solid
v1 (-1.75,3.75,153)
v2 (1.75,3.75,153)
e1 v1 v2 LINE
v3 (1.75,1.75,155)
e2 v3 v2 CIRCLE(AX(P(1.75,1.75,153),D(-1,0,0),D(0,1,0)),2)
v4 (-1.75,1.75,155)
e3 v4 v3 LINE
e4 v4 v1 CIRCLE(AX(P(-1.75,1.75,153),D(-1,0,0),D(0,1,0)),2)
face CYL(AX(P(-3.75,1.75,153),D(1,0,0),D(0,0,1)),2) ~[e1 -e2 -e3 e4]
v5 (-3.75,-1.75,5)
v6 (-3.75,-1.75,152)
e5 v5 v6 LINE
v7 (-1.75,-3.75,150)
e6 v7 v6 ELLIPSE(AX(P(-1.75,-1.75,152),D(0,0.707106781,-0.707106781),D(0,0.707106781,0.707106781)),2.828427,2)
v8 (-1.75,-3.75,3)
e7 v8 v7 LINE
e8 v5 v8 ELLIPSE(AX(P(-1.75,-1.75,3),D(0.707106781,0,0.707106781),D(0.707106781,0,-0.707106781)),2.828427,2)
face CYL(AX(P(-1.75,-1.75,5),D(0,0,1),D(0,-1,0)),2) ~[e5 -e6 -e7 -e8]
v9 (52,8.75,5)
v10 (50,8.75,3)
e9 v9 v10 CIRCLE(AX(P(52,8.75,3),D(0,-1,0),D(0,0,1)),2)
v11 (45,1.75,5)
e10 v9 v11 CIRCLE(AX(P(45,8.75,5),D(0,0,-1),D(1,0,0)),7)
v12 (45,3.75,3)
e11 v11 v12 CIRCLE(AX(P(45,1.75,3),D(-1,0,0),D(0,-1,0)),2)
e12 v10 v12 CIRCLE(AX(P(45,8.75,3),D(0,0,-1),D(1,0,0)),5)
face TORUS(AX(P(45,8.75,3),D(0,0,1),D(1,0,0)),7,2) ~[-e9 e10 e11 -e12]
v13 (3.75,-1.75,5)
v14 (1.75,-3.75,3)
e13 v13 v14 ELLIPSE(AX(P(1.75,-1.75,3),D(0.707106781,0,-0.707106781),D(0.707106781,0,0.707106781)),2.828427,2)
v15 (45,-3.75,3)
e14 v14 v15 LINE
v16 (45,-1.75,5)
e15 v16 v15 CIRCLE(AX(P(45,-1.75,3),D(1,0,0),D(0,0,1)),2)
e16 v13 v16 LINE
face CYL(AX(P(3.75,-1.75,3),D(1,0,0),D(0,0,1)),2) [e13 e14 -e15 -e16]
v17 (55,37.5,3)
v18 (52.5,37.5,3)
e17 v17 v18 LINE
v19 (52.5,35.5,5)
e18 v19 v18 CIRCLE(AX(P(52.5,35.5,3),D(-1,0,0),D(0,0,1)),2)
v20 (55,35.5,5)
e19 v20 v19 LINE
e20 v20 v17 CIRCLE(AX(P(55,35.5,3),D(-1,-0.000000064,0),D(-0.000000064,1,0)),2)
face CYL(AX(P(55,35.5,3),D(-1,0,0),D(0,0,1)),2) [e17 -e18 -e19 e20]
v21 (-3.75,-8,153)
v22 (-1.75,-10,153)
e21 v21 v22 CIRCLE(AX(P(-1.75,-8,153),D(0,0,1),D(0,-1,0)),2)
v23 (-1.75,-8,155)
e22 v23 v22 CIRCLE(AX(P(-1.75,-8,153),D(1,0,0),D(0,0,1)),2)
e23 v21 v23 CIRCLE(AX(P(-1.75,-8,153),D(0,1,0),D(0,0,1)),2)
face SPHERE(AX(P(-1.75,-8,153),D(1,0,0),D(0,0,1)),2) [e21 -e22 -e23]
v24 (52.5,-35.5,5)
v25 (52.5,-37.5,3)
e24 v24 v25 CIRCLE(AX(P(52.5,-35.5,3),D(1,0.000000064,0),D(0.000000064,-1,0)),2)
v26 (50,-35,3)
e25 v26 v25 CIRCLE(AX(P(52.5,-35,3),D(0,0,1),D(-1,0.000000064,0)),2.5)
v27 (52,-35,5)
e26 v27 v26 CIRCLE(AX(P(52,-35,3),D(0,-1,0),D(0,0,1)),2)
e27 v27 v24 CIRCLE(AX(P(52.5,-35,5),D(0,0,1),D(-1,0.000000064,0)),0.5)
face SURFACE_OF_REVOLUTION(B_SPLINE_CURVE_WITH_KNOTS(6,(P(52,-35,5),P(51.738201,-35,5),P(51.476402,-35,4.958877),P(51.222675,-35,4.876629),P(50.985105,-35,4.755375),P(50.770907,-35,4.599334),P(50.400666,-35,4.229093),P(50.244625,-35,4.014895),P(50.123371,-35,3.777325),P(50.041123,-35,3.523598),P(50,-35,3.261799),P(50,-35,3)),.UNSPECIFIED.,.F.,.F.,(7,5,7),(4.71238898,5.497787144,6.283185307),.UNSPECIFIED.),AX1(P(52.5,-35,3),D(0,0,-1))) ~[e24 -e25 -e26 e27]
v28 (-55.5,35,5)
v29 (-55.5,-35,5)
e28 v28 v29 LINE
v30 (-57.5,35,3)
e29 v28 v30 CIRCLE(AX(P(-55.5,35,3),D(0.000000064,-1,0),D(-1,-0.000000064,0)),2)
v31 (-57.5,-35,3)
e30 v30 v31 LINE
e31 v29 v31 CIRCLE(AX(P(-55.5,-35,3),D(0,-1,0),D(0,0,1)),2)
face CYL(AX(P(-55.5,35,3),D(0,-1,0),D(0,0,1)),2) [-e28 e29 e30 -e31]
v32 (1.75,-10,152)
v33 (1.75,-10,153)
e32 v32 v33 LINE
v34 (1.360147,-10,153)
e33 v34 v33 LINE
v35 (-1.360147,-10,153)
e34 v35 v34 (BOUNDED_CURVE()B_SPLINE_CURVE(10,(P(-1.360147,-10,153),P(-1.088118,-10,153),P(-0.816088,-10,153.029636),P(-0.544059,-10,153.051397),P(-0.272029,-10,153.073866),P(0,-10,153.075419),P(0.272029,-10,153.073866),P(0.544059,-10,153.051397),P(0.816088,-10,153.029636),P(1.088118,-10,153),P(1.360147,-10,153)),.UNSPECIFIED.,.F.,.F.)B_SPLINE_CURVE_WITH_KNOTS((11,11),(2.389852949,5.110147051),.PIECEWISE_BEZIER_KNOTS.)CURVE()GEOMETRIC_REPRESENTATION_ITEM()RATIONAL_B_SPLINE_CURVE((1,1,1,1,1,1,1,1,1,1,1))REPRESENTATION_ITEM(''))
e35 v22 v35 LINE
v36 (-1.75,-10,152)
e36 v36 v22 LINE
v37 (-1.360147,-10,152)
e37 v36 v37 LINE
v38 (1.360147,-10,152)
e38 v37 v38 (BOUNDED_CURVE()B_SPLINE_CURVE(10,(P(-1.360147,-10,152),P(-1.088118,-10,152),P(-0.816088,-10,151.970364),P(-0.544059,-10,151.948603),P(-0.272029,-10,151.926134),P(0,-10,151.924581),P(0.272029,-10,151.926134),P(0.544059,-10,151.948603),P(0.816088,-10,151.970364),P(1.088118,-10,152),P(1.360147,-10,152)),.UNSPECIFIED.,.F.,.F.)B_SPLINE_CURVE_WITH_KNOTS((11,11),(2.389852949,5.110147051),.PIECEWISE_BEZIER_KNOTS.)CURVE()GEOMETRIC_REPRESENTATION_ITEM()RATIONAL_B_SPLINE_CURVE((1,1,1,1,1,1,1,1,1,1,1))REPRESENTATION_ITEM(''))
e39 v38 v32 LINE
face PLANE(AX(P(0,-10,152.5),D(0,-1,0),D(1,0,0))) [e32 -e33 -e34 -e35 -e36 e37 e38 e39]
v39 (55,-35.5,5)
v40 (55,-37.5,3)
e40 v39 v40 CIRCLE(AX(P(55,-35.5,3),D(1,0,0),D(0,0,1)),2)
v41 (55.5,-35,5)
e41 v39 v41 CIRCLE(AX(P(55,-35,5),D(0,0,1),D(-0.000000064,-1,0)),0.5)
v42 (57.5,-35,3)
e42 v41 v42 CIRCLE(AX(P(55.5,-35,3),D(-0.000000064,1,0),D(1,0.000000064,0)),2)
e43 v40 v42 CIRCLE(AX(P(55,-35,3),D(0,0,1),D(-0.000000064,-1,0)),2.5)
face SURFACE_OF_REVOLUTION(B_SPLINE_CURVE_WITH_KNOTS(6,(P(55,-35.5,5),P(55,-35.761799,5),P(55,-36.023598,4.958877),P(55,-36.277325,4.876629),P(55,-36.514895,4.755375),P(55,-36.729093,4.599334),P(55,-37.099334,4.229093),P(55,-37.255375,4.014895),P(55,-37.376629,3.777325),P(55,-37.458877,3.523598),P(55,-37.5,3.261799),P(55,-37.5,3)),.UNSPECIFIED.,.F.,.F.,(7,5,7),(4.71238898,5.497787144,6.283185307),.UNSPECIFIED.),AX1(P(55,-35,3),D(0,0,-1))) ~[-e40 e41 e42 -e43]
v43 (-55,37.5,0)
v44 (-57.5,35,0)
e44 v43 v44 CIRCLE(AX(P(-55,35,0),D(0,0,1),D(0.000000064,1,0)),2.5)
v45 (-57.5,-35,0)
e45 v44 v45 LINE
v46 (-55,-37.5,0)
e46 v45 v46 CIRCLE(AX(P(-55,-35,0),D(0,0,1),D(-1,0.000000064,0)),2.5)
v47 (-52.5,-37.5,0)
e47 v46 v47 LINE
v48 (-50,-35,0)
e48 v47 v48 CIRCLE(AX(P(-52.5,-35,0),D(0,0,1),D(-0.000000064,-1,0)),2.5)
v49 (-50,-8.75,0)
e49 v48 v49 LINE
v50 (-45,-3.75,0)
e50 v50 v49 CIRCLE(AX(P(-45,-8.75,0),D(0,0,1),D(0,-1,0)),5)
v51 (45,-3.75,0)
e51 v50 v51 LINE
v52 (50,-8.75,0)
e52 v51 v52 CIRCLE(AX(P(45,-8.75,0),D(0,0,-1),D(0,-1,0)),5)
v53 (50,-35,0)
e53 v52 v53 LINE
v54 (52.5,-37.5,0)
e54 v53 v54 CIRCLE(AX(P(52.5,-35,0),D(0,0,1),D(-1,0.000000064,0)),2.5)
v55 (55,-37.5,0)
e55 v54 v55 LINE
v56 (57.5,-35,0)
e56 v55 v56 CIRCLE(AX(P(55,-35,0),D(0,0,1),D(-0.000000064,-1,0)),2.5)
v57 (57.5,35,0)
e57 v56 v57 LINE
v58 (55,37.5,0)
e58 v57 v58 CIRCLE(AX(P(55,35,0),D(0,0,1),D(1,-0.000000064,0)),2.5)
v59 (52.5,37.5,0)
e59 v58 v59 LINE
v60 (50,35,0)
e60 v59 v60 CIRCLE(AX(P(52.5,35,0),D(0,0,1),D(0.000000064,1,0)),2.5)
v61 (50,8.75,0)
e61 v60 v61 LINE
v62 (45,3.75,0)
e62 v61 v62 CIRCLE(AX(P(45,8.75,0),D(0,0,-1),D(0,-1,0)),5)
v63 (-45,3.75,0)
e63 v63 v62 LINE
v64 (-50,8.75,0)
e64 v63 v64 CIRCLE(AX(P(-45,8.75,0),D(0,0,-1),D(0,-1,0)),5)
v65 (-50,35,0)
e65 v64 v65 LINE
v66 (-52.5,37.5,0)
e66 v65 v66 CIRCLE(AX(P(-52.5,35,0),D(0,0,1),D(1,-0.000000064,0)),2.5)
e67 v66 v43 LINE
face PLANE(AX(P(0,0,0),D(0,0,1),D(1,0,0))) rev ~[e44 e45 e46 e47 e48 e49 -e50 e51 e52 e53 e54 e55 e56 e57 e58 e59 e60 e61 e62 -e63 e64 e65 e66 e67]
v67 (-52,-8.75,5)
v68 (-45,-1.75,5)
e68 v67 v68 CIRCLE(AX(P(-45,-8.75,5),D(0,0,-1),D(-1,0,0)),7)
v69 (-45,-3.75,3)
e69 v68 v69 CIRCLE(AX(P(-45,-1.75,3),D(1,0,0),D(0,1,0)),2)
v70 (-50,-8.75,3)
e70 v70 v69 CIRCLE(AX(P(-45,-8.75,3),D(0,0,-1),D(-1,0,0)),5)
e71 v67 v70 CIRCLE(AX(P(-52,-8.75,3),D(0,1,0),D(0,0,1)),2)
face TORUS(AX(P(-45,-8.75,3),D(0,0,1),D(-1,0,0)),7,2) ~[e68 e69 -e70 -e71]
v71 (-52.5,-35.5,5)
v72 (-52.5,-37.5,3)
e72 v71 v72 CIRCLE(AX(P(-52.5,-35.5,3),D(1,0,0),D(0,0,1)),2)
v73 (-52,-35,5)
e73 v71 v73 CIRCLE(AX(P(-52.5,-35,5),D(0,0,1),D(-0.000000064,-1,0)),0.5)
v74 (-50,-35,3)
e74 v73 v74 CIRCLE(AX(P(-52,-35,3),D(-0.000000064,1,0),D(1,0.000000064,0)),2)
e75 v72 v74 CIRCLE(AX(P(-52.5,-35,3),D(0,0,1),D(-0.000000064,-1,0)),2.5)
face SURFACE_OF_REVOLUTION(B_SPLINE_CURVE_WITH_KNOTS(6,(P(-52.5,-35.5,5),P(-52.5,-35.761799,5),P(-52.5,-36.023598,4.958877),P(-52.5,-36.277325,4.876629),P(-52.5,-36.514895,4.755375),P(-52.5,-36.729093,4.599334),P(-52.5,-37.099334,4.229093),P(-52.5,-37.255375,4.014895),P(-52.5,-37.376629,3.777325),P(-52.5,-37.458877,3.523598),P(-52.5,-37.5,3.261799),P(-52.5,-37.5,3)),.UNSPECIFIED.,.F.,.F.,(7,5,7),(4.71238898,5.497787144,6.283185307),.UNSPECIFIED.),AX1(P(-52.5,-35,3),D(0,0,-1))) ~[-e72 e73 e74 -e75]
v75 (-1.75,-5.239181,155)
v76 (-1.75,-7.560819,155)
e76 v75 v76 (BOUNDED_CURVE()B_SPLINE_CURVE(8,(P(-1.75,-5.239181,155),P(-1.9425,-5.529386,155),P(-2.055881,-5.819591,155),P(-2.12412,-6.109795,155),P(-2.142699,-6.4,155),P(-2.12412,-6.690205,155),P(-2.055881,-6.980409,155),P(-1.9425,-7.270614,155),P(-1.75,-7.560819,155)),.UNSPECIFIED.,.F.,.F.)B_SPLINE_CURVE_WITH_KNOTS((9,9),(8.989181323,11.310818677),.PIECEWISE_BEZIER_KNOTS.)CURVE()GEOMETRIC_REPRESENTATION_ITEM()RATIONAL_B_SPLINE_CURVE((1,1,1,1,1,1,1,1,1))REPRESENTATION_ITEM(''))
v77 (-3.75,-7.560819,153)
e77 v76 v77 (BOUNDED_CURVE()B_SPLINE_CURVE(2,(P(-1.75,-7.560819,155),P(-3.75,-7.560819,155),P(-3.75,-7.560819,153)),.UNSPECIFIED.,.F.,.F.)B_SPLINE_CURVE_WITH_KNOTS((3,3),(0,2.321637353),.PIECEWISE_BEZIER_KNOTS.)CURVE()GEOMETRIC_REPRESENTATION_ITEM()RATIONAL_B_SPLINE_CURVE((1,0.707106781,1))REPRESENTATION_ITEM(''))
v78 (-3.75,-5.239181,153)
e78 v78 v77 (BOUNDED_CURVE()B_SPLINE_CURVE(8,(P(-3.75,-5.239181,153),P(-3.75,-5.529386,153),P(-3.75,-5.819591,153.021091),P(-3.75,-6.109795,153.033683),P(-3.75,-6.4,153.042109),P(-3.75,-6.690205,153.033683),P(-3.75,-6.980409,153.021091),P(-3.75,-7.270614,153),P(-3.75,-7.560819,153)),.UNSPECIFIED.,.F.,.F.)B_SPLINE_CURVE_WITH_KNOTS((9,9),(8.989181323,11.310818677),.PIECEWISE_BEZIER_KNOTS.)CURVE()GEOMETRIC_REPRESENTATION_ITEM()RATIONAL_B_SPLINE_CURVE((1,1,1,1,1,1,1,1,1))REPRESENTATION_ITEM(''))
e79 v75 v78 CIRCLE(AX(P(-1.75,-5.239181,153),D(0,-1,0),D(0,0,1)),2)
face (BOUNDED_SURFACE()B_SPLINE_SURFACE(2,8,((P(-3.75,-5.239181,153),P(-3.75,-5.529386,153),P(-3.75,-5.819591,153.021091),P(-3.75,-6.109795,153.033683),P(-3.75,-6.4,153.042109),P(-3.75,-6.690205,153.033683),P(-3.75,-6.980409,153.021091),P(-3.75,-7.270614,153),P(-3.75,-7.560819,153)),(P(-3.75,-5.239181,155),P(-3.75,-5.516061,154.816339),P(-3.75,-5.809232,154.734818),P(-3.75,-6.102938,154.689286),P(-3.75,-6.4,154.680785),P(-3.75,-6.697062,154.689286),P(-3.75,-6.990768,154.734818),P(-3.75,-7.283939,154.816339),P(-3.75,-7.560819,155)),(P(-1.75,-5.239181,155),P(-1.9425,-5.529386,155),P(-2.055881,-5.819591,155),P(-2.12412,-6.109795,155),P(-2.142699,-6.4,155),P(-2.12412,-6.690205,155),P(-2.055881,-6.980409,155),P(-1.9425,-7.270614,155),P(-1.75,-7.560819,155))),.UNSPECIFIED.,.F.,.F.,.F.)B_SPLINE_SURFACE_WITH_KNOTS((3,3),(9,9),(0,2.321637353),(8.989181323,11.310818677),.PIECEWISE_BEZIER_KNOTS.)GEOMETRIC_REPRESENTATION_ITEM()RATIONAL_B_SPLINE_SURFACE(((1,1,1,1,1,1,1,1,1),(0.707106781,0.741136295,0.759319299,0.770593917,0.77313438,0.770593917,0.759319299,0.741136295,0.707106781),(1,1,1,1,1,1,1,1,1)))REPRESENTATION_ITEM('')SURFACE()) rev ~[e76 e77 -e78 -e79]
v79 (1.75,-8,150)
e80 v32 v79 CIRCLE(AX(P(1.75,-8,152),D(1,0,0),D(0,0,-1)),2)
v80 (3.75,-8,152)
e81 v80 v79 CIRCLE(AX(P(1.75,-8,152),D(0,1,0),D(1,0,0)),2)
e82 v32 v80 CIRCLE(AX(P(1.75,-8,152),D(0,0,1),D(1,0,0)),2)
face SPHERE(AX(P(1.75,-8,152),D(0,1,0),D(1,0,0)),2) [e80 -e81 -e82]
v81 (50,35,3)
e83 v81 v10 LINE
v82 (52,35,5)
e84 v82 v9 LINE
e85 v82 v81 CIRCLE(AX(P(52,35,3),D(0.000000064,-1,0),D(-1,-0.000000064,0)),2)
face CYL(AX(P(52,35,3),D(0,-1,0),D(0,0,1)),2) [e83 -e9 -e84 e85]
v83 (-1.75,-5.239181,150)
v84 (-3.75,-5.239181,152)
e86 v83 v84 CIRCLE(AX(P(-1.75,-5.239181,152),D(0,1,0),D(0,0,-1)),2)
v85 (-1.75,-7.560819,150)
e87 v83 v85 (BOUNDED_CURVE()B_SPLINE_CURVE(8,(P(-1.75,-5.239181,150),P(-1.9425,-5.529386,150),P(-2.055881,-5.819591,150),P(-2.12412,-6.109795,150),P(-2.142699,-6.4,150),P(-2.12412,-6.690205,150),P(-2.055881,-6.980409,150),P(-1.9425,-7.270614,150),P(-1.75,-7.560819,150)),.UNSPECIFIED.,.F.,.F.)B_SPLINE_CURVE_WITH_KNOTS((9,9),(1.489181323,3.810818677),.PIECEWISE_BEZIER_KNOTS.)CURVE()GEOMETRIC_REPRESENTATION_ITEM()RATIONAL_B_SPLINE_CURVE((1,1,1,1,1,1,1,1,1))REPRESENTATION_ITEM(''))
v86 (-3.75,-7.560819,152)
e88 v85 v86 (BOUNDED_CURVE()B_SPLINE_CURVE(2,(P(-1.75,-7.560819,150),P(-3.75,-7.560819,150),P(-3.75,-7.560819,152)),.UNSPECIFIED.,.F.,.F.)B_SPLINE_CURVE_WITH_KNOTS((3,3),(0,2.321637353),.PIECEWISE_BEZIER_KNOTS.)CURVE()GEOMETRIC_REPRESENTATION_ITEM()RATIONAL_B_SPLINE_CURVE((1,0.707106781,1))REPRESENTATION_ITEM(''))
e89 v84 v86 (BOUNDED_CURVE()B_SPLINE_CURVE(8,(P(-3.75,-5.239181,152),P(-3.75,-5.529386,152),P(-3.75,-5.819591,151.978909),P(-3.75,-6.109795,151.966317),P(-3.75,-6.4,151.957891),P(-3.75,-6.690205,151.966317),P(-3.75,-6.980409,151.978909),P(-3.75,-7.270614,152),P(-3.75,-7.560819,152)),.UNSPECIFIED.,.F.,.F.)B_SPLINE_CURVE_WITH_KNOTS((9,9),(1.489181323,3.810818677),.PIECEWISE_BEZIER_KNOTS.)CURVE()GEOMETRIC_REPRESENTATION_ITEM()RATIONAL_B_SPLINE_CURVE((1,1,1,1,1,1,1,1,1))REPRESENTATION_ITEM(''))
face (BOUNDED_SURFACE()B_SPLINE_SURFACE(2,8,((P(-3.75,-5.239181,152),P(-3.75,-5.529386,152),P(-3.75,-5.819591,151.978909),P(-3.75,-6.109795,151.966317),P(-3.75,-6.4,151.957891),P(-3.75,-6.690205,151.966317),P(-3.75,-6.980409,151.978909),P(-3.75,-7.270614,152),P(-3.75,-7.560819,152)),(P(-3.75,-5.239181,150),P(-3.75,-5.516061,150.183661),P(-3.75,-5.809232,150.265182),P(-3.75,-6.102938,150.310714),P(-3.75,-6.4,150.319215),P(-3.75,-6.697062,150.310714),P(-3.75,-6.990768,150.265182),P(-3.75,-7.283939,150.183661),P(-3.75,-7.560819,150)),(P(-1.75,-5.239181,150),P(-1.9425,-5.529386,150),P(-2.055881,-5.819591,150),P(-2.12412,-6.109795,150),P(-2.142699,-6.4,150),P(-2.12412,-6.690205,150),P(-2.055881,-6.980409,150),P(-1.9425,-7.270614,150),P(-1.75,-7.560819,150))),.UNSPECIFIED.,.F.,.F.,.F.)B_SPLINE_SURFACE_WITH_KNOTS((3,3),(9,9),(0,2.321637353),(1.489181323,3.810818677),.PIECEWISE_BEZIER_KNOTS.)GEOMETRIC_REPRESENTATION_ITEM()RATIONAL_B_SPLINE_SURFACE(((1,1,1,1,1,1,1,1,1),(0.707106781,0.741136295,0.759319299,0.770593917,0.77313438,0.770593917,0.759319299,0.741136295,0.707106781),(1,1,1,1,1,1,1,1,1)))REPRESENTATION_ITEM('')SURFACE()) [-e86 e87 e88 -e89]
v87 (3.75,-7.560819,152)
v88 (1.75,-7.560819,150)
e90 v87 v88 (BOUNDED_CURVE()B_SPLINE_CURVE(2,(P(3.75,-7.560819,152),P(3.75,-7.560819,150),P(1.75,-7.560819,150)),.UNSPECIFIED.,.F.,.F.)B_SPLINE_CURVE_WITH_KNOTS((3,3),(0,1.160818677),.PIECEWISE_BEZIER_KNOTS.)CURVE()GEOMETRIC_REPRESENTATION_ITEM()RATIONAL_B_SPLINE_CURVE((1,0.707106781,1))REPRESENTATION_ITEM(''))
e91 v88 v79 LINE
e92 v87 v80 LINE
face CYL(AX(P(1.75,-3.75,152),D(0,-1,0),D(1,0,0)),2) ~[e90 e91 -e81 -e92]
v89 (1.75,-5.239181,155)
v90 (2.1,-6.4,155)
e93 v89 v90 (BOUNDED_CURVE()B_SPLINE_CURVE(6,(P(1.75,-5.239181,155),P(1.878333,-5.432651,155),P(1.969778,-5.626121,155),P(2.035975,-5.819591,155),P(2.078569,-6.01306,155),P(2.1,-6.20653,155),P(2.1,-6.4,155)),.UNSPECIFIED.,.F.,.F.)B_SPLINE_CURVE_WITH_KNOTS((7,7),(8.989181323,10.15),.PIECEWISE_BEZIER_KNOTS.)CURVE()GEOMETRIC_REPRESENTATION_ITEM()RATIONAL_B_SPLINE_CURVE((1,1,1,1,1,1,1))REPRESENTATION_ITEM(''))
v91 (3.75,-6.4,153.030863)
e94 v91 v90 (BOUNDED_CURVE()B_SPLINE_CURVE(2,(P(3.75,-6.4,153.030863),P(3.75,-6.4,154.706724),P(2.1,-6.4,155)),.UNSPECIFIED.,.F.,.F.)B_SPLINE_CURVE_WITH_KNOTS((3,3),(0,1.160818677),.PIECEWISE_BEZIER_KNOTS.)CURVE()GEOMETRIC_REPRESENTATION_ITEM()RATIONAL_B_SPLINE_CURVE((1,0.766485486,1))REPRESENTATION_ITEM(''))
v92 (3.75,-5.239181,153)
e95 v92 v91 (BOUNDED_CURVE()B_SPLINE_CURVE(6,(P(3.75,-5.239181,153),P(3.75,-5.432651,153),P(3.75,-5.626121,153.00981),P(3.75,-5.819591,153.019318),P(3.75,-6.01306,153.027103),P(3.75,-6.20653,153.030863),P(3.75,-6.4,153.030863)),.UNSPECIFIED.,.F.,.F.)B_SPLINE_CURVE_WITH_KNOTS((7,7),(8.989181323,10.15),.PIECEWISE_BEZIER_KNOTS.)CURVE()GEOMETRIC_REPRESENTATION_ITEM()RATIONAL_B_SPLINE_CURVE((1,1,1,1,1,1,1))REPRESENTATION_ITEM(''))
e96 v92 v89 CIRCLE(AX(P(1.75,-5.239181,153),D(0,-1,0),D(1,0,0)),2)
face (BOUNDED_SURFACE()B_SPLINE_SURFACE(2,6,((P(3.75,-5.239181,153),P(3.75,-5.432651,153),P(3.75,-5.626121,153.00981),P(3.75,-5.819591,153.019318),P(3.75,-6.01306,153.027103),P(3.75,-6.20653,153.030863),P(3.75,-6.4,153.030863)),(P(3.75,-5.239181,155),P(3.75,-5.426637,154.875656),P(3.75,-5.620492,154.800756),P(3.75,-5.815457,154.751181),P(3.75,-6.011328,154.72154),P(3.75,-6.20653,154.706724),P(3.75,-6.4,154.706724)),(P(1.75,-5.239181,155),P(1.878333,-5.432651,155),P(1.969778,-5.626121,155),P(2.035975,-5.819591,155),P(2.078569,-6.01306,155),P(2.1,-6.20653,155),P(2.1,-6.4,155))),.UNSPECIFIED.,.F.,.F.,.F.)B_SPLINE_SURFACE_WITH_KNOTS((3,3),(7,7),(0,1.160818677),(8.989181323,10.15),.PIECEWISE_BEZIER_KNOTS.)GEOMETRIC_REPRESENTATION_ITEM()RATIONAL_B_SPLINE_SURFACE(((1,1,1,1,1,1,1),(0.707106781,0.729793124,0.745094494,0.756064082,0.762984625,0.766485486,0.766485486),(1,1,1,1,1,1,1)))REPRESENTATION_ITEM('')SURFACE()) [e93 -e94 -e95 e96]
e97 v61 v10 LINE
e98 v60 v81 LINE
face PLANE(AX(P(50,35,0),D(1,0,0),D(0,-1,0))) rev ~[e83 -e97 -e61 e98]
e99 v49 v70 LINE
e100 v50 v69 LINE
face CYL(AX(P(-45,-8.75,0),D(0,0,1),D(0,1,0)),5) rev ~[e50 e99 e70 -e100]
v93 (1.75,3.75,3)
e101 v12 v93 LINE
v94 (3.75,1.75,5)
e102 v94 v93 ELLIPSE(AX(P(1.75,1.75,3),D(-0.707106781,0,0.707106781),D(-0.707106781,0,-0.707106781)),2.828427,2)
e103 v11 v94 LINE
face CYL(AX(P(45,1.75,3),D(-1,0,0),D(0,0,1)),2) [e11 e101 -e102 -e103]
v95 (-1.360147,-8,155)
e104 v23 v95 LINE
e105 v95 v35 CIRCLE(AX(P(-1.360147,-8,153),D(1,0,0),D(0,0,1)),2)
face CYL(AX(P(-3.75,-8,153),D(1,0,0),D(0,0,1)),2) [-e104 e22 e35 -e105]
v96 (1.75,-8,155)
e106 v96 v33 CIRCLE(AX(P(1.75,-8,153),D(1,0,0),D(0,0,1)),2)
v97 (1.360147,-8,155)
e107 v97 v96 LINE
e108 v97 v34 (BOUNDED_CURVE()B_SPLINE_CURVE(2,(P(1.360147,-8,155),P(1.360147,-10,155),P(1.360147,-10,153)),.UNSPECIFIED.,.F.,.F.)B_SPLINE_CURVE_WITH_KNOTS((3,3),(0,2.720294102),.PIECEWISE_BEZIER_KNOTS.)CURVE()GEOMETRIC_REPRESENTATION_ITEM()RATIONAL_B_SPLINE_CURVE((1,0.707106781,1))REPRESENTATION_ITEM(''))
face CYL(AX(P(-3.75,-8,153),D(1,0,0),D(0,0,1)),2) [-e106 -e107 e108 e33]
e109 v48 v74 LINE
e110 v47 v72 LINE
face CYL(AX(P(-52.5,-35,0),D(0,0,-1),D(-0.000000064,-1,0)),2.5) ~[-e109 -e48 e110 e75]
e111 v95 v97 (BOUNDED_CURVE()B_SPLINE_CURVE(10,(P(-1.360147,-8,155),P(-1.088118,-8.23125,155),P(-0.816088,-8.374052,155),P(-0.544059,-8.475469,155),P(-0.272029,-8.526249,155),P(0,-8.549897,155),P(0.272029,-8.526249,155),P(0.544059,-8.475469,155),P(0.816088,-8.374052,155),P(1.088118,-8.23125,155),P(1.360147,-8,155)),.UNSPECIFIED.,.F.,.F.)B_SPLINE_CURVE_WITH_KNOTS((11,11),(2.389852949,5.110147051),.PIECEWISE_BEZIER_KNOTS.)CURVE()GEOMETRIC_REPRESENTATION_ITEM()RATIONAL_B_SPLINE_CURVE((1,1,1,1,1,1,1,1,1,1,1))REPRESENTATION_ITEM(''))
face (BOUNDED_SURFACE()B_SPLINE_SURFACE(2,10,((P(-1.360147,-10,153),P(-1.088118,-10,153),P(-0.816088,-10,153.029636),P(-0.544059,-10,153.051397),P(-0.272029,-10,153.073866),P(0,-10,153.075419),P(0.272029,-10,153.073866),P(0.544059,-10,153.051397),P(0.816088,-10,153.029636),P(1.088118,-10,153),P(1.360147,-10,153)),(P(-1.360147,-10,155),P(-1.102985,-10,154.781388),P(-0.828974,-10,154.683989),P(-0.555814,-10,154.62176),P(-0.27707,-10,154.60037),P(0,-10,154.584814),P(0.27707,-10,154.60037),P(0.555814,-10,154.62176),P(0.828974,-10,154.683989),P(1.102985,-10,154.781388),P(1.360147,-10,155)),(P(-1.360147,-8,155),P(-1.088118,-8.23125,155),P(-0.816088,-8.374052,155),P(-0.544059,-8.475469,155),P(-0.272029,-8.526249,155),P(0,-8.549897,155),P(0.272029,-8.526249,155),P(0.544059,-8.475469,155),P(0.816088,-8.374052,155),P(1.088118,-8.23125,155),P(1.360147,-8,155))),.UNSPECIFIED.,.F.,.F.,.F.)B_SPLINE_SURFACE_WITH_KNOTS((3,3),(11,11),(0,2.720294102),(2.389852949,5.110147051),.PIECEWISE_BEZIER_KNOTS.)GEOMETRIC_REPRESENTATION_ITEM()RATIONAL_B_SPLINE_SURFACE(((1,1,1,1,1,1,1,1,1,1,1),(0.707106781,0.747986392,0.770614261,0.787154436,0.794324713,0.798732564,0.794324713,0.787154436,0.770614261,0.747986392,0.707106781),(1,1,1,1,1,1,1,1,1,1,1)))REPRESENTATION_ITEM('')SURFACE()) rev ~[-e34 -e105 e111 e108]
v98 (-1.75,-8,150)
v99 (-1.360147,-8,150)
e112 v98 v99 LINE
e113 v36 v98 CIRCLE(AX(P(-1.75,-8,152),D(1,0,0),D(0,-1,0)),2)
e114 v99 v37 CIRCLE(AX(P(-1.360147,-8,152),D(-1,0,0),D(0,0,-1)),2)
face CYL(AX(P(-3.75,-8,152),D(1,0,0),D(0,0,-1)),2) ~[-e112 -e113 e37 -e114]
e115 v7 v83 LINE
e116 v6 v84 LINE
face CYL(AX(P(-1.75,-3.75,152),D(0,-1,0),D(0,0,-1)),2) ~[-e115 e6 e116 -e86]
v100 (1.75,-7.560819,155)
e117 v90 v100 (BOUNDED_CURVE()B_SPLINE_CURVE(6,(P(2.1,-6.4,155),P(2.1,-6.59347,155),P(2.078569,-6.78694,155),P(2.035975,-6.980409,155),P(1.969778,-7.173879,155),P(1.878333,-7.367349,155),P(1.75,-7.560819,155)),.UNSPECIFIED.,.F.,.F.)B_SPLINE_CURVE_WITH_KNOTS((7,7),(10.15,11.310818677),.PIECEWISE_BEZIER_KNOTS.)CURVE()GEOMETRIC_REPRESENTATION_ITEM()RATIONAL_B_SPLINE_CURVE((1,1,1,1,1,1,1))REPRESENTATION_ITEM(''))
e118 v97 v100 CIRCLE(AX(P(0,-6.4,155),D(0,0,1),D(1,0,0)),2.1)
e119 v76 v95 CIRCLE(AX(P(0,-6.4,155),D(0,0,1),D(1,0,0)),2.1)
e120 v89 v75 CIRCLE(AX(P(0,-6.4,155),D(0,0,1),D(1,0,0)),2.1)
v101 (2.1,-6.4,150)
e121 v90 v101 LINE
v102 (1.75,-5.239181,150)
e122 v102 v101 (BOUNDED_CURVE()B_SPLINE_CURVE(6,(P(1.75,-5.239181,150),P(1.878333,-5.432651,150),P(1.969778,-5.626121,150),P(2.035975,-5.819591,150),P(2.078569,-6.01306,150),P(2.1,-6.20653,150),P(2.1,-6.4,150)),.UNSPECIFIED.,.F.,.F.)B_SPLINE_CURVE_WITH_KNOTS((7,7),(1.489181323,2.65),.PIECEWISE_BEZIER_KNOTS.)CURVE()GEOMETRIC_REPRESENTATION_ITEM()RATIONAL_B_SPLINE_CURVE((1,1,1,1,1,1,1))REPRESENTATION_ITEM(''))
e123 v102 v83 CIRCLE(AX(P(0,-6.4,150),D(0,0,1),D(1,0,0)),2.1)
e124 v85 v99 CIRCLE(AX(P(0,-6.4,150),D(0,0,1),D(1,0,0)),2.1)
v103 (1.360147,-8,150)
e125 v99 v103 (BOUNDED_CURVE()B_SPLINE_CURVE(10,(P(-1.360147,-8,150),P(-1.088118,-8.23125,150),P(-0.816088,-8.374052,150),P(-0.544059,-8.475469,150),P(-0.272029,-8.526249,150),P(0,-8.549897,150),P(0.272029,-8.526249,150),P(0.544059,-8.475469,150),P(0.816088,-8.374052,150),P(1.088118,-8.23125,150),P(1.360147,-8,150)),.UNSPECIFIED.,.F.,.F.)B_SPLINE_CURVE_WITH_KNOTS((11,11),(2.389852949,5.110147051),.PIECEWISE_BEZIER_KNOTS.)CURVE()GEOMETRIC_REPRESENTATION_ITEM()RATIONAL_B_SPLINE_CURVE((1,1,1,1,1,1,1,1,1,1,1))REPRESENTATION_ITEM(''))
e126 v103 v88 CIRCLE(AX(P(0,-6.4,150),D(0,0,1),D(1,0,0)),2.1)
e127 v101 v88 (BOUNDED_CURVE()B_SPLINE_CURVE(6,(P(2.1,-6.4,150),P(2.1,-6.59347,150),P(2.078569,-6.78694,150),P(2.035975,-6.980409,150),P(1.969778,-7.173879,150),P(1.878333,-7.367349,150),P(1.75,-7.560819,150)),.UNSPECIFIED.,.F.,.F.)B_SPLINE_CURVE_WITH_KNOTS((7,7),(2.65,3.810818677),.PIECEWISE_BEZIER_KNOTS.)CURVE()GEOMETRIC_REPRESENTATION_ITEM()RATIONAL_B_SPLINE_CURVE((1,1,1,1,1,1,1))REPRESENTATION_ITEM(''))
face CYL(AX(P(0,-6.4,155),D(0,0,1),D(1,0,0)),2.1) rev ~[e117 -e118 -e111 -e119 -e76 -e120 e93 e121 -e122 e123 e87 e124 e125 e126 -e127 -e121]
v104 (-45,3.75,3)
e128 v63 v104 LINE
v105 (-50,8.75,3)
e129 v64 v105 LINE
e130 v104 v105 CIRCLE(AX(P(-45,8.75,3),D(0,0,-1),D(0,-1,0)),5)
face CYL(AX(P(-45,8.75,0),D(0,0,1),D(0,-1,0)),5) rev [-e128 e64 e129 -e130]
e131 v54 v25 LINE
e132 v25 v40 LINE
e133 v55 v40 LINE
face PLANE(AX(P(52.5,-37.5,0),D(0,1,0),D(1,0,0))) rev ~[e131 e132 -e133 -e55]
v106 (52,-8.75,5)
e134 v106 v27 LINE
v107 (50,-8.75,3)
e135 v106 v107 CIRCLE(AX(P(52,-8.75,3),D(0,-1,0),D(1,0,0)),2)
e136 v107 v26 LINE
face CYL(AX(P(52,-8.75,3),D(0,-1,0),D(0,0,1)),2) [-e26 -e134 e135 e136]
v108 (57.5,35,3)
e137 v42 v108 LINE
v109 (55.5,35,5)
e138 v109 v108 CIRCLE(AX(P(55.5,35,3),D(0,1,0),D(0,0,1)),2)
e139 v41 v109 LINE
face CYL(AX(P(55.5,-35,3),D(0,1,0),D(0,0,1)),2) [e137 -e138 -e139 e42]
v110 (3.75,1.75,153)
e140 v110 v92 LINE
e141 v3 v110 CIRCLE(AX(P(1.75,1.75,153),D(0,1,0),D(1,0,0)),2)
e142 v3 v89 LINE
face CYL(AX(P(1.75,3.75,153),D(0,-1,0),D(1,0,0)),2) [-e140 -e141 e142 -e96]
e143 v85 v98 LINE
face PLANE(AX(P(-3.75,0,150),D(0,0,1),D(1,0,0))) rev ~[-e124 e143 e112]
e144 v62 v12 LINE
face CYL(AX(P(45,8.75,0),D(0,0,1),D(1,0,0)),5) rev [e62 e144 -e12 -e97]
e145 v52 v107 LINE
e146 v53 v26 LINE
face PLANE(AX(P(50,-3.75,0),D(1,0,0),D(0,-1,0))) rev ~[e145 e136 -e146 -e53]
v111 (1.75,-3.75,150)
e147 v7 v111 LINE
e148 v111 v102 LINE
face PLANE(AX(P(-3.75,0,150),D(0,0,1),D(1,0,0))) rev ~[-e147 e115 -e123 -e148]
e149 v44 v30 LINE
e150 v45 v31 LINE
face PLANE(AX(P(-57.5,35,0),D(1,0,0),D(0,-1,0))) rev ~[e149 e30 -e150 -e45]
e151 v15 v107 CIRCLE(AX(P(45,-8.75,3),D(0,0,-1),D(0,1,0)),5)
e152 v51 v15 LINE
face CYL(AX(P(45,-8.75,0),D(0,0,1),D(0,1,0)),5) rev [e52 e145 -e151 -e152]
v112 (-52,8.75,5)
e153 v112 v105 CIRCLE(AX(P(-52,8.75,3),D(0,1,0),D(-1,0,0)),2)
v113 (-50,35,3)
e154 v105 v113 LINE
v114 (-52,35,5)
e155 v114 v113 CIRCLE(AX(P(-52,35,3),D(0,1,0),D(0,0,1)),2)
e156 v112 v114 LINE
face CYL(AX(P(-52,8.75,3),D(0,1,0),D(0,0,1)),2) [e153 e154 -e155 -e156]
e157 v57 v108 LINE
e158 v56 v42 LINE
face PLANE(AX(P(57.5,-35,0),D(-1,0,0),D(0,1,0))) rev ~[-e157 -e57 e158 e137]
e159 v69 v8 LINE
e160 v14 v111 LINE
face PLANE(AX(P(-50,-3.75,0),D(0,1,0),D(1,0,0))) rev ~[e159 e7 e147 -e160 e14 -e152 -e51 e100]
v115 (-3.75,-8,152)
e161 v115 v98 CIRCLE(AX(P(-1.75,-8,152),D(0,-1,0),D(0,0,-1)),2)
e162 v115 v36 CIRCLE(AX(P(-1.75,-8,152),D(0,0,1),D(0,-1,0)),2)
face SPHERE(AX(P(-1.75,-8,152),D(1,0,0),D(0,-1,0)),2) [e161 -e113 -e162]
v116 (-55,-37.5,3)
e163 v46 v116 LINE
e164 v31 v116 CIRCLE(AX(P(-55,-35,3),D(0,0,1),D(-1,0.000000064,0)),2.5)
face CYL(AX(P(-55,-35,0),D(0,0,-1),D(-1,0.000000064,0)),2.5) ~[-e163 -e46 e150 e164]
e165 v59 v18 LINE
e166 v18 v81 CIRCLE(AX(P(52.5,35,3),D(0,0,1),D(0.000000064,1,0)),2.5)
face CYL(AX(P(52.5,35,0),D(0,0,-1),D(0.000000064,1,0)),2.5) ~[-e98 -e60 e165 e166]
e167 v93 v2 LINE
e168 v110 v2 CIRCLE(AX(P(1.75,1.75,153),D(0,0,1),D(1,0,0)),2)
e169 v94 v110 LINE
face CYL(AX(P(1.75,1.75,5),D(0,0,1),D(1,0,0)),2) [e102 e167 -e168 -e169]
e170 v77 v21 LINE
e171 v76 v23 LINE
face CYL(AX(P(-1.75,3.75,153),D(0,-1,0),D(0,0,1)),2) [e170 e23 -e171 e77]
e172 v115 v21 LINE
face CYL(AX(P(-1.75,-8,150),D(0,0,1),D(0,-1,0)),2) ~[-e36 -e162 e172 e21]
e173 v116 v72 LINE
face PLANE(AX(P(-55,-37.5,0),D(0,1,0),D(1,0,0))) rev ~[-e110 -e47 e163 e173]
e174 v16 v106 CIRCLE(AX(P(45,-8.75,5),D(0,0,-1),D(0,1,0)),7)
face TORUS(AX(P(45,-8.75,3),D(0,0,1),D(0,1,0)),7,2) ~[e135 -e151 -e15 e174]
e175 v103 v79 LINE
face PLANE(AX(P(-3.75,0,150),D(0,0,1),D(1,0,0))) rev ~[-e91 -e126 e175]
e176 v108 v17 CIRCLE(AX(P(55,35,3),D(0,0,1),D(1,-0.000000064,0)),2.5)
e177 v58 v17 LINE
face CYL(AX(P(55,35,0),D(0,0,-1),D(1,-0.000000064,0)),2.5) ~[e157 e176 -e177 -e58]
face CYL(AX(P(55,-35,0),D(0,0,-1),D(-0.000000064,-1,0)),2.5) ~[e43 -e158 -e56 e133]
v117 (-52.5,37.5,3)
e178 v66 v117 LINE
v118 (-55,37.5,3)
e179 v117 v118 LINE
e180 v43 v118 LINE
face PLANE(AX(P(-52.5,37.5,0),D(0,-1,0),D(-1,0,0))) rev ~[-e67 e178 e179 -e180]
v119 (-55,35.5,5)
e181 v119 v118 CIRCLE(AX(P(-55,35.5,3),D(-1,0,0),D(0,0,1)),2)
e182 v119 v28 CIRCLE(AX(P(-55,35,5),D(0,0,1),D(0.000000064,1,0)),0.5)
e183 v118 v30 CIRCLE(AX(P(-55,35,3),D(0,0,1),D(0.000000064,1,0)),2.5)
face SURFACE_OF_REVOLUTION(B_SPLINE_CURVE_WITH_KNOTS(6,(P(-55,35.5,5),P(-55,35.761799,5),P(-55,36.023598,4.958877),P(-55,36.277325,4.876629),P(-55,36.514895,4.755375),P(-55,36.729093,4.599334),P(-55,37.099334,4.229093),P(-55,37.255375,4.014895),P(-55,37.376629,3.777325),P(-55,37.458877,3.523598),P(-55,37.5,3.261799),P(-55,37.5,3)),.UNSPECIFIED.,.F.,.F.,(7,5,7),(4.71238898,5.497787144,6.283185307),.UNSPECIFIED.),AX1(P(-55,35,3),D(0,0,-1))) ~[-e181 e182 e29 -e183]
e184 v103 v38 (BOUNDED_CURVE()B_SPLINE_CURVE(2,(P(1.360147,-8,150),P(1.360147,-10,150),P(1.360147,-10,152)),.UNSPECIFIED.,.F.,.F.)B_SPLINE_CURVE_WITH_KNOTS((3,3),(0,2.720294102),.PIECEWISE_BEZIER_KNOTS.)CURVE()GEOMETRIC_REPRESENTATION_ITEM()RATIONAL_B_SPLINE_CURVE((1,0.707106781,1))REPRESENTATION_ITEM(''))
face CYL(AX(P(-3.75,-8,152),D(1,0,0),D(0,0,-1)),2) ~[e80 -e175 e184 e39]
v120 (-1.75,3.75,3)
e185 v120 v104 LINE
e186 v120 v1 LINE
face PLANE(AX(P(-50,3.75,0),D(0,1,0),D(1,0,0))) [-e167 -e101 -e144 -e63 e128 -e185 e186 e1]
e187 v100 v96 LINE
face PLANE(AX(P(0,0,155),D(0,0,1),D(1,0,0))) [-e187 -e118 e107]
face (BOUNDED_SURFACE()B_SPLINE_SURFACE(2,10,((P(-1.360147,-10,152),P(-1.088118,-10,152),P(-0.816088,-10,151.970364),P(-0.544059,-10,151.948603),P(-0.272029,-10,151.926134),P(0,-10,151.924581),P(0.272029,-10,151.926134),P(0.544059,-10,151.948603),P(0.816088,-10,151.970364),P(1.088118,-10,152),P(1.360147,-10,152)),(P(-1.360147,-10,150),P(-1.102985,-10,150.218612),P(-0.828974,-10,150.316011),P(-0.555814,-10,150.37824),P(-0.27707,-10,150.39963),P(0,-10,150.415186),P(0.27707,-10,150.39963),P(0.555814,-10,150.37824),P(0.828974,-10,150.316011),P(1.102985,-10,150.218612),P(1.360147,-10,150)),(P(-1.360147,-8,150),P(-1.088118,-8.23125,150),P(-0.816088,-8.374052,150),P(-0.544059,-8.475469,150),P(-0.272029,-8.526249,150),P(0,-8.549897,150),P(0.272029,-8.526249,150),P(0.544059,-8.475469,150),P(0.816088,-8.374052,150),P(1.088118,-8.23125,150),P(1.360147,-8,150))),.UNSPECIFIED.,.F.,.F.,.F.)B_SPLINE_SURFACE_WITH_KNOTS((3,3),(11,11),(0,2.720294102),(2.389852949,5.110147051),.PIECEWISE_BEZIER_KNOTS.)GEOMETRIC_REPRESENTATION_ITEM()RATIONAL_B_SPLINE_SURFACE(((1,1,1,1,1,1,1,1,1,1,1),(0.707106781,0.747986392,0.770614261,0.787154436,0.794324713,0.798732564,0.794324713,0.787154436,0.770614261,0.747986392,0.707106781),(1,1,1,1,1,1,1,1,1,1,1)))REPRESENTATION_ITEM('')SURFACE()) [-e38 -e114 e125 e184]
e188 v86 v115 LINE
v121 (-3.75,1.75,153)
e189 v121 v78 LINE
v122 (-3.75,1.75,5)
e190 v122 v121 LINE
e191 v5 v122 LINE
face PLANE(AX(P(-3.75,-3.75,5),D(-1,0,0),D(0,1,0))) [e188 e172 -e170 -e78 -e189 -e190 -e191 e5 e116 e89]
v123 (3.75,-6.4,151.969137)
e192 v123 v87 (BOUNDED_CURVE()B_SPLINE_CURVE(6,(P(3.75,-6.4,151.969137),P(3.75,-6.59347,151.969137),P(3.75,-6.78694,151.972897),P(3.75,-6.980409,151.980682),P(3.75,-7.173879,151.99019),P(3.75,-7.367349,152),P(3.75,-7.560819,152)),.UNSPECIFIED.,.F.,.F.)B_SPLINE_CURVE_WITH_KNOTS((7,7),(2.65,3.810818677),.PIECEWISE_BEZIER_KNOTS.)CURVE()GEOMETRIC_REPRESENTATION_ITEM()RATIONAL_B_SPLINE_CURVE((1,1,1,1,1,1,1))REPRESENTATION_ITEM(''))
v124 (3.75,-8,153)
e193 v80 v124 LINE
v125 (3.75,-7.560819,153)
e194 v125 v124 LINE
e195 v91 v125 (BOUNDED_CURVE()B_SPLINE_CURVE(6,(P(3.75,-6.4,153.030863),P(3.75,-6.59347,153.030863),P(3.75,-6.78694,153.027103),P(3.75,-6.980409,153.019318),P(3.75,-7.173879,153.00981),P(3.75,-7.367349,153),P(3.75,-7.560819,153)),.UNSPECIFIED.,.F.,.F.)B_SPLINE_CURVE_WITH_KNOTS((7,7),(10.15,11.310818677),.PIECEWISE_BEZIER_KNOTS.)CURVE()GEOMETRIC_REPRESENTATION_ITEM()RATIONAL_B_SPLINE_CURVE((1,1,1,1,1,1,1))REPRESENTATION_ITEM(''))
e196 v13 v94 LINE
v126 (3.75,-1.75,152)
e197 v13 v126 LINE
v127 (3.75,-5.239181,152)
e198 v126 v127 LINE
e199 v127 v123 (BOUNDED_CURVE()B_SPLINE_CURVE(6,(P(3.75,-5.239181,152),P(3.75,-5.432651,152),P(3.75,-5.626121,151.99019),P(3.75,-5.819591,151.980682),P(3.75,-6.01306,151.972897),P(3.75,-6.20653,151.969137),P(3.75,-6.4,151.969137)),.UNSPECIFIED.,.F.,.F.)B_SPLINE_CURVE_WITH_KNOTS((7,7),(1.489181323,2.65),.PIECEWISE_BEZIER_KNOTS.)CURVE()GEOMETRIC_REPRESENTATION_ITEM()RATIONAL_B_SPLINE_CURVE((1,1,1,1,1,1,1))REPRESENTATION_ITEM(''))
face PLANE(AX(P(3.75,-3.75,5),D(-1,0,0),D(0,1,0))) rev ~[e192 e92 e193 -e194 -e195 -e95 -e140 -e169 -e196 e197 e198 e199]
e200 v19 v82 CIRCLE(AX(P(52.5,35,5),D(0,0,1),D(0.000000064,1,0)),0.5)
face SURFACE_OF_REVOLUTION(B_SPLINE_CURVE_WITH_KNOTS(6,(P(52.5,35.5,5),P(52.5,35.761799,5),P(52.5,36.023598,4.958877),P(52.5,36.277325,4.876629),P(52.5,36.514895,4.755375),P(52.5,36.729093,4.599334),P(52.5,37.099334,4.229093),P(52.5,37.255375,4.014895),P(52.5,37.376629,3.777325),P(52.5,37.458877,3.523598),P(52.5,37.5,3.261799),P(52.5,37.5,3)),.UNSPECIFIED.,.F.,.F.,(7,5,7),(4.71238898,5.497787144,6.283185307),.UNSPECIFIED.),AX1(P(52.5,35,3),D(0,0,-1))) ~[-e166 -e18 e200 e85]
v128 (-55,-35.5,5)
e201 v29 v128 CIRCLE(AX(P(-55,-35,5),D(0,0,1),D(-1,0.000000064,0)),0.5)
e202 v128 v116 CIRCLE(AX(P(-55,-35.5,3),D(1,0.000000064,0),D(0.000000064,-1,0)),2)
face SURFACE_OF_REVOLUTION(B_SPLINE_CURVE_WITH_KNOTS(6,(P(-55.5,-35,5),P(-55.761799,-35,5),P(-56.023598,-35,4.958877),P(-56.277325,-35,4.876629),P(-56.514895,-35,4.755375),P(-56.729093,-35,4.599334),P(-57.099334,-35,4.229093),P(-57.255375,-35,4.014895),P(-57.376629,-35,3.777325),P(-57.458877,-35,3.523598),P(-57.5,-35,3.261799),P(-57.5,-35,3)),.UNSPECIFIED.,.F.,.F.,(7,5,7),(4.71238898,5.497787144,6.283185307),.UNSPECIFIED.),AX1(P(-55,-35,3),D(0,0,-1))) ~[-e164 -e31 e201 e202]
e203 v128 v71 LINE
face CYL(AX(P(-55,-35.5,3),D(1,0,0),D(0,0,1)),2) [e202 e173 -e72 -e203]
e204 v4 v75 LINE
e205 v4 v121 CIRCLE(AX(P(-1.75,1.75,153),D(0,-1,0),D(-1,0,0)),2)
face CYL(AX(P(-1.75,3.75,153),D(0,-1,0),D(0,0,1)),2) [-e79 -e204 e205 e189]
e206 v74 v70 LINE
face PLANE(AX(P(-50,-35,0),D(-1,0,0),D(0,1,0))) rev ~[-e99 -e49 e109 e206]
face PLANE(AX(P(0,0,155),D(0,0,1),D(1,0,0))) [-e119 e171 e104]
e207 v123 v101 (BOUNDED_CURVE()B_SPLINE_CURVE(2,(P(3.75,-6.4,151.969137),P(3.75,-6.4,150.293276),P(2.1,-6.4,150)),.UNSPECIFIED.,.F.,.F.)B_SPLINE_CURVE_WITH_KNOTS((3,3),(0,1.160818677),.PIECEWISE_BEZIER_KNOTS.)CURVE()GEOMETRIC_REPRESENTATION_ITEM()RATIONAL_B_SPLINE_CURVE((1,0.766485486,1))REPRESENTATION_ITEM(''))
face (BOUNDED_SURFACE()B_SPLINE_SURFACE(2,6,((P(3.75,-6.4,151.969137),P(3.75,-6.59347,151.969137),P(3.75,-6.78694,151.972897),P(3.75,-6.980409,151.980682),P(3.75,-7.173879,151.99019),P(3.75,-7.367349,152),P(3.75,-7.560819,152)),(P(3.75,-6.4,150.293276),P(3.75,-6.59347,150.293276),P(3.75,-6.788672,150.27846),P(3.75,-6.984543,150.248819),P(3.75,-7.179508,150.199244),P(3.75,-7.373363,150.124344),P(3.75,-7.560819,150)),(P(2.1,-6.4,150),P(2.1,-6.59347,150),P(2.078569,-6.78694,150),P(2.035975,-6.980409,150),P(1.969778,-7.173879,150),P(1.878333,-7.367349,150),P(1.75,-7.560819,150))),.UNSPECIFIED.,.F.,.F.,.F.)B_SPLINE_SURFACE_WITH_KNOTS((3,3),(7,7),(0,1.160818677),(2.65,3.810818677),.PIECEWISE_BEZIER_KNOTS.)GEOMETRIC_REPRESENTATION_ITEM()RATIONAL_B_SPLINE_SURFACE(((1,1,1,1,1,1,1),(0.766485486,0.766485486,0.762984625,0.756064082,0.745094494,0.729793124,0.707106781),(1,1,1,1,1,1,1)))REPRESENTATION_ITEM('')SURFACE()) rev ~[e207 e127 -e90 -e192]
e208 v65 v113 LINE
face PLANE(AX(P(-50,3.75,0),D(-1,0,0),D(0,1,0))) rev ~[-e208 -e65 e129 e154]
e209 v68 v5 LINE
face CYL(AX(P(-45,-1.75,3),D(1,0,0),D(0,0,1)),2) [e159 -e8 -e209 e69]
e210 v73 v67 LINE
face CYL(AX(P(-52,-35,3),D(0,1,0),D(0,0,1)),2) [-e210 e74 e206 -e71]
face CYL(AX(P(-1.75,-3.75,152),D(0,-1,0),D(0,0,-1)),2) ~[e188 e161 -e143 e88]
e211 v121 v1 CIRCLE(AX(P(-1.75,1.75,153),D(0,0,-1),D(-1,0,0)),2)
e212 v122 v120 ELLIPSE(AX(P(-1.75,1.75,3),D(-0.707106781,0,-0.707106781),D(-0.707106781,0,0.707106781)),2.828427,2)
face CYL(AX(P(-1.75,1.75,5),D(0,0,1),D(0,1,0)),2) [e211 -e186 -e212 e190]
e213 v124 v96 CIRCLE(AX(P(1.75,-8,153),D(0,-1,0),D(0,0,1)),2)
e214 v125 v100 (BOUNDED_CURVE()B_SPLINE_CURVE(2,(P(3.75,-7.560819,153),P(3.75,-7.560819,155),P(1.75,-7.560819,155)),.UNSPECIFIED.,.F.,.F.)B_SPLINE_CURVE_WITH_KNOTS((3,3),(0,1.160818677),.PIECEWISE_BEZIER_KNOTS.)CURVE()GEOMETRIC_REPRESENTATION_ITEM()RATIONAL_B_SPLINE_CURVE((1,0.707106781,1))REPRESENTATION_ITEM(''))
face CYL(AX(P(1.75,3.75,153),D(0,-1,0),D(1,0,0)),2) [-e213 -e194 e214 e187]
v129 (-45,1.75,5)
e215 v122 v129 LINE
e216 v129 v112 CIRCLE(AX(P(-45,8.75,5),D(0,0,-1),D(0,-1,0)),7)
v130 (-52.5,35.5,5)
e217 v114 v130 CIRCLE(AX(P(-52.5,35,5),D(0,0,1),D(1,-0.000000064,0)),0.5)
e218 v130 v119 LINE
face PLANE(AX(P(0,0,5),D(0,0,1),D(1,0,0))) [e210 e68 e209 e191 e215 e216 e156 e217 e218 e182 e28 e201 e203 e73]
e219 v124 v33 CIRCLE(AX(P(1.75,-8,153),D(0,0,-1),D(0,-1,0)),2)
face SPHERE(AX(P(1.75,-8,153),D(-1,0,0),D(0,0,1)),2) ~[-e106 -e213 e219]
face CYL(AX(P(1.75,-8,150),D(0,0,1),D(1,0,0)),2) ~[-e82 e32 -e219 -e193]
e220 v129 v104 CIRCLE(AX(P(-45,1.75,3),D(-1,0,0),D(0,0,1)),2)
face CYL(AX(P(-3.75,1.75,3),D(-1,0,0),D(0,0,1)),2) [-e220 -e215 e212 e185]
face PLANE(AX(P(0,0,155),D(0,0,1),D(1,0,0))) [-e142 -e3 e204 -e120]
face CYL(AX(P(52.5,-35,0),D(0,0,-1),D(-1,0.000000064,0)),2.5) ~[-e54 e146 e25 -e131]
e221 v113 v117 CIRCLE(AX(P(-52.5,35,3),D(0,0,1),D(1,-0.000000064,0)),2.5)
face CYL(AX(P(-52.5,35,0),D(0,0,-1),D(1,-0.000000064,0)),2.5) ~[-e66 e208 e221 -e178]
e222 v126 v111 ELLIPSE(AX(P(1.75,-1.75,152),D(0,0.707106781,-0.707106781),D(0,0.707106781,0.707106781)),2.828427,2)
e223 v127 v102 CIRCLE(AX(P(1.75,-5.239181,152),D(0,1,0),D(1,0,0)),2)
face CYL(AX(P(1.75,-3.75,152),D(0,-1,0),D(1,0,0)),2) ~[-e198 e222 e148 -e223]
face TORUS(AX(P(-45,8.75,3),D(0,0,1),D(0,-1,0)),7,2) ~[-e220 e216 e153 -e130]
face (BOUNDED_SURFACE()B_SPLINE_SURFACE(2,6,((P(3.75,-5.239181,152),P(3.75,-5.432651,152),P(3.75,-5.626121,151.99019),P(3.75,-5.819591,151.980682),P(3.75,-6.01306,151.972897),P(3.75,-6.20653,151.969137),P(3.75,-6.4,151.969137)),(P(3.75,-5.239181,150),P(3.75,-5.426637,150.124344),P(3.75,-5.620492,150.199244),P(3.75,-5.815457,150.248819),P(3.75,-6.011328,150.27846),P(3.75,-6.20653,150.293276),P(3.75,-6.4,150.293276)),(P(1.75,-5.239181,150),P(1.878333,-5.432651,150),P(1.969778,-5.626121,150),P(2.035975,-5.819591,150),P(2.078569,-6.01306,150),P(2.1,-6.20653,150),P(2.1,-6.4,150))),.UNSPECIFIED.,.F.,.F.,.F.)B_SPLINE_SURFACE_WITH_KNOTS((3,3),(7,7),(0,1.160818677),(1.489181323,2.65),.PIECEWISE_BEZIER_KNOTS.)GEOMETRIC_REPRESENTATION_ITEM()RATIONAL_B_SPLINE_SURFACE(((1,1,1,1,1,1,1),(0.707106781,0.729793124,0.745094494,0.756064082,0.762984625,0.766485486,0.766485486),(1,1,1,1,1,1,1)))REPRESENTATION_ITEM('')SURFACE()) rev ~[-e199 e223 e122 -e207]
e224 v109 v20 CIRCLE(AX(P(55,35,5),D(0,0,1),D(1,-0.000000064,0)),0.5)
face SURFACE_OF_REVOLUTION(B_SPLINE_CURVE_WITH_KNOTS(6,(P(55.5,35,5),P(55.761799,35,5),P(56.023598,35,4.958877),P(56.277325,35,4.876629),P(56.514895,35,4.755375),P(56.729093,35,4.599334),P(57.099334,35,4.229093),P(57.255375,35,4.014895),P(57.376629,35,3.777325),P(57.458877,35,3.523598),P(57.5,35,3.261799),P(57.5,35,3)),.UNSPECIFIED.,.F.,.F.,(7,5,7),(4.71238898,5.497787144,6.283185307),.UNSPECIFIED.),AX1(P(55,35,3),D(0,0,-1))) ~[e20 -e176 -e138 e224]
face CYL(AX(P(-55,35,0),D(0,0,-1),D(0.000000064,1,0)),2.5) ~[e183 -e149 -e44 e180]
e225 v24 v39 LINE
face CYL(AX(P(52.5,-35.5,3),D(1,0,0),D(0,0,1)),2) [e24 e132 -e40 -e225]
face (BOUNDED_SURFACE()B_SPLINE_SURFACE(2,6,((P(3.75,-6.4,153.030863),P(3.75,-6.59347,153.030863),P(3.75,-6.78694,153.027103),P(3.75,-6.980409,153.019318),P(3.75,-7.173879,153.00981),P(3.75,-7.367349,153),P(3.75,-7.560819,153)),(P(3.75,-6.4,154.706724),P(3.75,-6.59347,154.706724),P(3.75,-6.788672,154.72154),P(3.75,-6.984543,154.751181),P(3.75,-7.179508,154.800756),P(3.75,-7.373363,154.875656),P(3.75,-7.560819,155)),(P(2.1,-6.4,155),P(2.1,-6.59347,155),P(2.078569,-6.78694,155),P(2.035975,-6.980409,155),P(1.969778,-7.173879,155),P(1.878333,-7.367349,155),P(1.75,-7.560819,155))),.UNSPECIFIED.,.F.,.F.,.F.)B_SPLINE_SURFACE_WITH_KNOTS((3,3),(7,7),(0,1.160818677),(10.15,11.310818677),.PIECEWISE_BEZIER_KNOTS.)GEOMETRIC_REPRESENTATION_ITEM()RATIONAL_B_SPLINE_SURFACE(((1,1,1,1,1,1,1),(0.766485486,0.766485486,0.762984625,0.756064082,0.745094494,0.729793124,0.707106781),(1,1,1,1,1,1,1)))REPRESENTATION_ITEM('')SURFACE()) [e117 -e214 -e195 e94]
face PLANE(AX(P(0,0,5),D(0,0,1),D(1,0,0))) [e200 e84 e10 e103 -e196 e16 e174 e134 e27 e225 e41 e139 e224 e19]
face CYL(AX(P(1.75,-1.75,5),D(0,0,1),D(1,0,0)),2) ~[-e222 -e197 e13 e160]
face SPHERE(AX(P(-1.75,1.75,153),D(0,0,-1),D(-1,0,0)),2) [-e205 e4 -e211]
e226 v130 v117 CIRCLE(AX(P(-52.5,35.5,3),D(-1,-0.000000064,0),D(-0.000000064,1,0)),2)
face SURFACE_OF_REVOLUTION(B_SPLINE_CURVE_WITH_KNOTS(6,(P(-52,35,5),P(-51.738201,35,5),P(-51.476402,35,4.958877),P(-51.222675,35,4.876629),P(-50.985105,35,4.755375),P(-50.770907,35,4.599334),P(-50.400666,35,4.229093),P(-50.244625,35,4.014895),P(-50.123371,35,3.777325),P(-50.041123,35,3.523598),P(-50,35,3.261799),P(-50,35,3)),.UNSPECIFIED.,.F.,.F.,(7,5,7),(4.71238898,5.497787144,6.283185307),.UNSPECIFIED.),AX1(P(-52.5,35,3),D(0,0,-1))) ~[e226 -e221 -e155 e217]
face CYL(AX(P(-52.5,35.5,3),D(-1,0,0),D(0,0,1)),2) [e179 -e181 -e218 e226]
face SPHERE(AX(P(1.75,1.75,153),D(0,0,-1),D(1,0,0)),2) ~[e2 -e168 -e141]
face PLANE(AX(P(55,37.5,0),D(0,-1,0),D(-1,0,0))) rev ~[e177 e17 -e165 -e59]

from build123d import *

# Parameters (mm, degrees)
SKETCH_W     = 100
SKETCH_H     = 7.5
PAD_DEPTH    = 5
FILLET_R     = 5
SKETCH001_W  = 7.5
SKETCH001_H  = 7.5
PAD001_DEPTH = 150
SKETCH002_W  = 7.5
SKETCH002_H  = 5
PAD002_DEPTH = 10
SKETCH003_R  = 2.1
POCKET_DEPTH = 5
FILLET001_R  = 2


with BuildPart() as part:
    # Sketch → Pad (new body)
    with BuildSketch(Plane.XY):
        Rectangle(SKETCH_W, SKETCH_H)
        with BuildLine():
            Line((50, 35), (50, -35))
            ThreePointArc((50, -35), (50.732233, -36.767767), (52.5, -37.5))
            Line((52.5, -37.5), (55, -37.5))
            ThreePointArc((55, -37.5), (56.767767, -36.767767), (57.5, -35))
            Line((57.5, -35), (57.5, 35))
            ThreePointArc((57.5, 35), (56.767767, 36.767767), (55, 37.5))
            Line((55, 37.5), (52.5, 37.5))
            ThreePointArc((52.5, 37.5), (50.732233, 36.767767), (50, 35))
        make_face()
        with BuildLine():
            Line((-52.5, 37.5), (-55, 37.5))
            ThreePointArc((-55, 37.5), (-56.767767, 36.767767), (-57.5, 35))
            Line((-57.5, 35), (-57.5, -35))
            ThreePointArc((-57.5, -35), (-56.767767, -36.767767), (-55, -37.5))
            Line((-55, -37.5), (-52.5, -37.5))
            ThreePointArc((-52.5, -37.5), (-50.732233, -36.767767), (-50, -35))
            Line((-50, -35), (-50, 35))
            ThreePointArc((-50, 35), (-50.732233, 36.767767), (-52.5, 37.5))
        make_face()
    extrude(amount=PAD_DEPTH)

    # Fillet
    fillet_edges = [part.edges().sort_by_distance(p)[0] for p in [
        (-50, -3.75, 2.5),
        (50, -3.75, 2.5),
        (-50, 3.75, 2.5),
        (50, 3.75, 2.5),
    ]]
    fillet(fillet_edges, radius=FILLET_R)

    # Sketch001 (on Face5 of Fillet) → Pad001 (join)
    with BuildSketch(Plane.XY.offset(5)):
        Rectangle(SKETCH001_W, SKETCH001_H)
    extrude(amount=PAD001_DEPTH)

    # Sketch002 → Pad002 (join)
    with BuildSketch(Plane.XZ):
        with Locations((0, 152.5)):
            Rectangle(SKETCH002_W, SKETCH002_H)
    extrude(amount=PAD002_DEPTH)

    # Sketch003 (on Face32 of Pad002) → Pocket (cut)
    with BuildSketch(Plane.XY.offset(155)):
        with Locations((0, -6.4)):
            Circle(SKETCH003_R)
    extrude(amount=-POCKET_DEPTH, mode=Mode.SUBTRACT)

    # Fillet001
    fillet001_edges = [part.edges().sort_by_distance(p)[0] for p in [
        (-50, -21.875, 5),
        (-3.75, -3.75, 77.5),
        (24.375, -3.75, 5),
        (3.75, -3.75, 77.5),
        (-3.75, 3.75, 80),
        (3.75, 3.75, 80),
        (0, -10, 155),
        (3.75, -3.125, 155),
        (-3.75, -3.125, 155),
        (0, 3.75, 155),
        (3.75, -6.875, 150),
        (3.75, -10, 152.5),
        (0, -10, 150),
        (-3.75, -10, 152.5),
        (-3.75, -6.875, 150),
    ]]
    fillet(fillet001_edges, radius=FILLET001_R)


solid = part.part
